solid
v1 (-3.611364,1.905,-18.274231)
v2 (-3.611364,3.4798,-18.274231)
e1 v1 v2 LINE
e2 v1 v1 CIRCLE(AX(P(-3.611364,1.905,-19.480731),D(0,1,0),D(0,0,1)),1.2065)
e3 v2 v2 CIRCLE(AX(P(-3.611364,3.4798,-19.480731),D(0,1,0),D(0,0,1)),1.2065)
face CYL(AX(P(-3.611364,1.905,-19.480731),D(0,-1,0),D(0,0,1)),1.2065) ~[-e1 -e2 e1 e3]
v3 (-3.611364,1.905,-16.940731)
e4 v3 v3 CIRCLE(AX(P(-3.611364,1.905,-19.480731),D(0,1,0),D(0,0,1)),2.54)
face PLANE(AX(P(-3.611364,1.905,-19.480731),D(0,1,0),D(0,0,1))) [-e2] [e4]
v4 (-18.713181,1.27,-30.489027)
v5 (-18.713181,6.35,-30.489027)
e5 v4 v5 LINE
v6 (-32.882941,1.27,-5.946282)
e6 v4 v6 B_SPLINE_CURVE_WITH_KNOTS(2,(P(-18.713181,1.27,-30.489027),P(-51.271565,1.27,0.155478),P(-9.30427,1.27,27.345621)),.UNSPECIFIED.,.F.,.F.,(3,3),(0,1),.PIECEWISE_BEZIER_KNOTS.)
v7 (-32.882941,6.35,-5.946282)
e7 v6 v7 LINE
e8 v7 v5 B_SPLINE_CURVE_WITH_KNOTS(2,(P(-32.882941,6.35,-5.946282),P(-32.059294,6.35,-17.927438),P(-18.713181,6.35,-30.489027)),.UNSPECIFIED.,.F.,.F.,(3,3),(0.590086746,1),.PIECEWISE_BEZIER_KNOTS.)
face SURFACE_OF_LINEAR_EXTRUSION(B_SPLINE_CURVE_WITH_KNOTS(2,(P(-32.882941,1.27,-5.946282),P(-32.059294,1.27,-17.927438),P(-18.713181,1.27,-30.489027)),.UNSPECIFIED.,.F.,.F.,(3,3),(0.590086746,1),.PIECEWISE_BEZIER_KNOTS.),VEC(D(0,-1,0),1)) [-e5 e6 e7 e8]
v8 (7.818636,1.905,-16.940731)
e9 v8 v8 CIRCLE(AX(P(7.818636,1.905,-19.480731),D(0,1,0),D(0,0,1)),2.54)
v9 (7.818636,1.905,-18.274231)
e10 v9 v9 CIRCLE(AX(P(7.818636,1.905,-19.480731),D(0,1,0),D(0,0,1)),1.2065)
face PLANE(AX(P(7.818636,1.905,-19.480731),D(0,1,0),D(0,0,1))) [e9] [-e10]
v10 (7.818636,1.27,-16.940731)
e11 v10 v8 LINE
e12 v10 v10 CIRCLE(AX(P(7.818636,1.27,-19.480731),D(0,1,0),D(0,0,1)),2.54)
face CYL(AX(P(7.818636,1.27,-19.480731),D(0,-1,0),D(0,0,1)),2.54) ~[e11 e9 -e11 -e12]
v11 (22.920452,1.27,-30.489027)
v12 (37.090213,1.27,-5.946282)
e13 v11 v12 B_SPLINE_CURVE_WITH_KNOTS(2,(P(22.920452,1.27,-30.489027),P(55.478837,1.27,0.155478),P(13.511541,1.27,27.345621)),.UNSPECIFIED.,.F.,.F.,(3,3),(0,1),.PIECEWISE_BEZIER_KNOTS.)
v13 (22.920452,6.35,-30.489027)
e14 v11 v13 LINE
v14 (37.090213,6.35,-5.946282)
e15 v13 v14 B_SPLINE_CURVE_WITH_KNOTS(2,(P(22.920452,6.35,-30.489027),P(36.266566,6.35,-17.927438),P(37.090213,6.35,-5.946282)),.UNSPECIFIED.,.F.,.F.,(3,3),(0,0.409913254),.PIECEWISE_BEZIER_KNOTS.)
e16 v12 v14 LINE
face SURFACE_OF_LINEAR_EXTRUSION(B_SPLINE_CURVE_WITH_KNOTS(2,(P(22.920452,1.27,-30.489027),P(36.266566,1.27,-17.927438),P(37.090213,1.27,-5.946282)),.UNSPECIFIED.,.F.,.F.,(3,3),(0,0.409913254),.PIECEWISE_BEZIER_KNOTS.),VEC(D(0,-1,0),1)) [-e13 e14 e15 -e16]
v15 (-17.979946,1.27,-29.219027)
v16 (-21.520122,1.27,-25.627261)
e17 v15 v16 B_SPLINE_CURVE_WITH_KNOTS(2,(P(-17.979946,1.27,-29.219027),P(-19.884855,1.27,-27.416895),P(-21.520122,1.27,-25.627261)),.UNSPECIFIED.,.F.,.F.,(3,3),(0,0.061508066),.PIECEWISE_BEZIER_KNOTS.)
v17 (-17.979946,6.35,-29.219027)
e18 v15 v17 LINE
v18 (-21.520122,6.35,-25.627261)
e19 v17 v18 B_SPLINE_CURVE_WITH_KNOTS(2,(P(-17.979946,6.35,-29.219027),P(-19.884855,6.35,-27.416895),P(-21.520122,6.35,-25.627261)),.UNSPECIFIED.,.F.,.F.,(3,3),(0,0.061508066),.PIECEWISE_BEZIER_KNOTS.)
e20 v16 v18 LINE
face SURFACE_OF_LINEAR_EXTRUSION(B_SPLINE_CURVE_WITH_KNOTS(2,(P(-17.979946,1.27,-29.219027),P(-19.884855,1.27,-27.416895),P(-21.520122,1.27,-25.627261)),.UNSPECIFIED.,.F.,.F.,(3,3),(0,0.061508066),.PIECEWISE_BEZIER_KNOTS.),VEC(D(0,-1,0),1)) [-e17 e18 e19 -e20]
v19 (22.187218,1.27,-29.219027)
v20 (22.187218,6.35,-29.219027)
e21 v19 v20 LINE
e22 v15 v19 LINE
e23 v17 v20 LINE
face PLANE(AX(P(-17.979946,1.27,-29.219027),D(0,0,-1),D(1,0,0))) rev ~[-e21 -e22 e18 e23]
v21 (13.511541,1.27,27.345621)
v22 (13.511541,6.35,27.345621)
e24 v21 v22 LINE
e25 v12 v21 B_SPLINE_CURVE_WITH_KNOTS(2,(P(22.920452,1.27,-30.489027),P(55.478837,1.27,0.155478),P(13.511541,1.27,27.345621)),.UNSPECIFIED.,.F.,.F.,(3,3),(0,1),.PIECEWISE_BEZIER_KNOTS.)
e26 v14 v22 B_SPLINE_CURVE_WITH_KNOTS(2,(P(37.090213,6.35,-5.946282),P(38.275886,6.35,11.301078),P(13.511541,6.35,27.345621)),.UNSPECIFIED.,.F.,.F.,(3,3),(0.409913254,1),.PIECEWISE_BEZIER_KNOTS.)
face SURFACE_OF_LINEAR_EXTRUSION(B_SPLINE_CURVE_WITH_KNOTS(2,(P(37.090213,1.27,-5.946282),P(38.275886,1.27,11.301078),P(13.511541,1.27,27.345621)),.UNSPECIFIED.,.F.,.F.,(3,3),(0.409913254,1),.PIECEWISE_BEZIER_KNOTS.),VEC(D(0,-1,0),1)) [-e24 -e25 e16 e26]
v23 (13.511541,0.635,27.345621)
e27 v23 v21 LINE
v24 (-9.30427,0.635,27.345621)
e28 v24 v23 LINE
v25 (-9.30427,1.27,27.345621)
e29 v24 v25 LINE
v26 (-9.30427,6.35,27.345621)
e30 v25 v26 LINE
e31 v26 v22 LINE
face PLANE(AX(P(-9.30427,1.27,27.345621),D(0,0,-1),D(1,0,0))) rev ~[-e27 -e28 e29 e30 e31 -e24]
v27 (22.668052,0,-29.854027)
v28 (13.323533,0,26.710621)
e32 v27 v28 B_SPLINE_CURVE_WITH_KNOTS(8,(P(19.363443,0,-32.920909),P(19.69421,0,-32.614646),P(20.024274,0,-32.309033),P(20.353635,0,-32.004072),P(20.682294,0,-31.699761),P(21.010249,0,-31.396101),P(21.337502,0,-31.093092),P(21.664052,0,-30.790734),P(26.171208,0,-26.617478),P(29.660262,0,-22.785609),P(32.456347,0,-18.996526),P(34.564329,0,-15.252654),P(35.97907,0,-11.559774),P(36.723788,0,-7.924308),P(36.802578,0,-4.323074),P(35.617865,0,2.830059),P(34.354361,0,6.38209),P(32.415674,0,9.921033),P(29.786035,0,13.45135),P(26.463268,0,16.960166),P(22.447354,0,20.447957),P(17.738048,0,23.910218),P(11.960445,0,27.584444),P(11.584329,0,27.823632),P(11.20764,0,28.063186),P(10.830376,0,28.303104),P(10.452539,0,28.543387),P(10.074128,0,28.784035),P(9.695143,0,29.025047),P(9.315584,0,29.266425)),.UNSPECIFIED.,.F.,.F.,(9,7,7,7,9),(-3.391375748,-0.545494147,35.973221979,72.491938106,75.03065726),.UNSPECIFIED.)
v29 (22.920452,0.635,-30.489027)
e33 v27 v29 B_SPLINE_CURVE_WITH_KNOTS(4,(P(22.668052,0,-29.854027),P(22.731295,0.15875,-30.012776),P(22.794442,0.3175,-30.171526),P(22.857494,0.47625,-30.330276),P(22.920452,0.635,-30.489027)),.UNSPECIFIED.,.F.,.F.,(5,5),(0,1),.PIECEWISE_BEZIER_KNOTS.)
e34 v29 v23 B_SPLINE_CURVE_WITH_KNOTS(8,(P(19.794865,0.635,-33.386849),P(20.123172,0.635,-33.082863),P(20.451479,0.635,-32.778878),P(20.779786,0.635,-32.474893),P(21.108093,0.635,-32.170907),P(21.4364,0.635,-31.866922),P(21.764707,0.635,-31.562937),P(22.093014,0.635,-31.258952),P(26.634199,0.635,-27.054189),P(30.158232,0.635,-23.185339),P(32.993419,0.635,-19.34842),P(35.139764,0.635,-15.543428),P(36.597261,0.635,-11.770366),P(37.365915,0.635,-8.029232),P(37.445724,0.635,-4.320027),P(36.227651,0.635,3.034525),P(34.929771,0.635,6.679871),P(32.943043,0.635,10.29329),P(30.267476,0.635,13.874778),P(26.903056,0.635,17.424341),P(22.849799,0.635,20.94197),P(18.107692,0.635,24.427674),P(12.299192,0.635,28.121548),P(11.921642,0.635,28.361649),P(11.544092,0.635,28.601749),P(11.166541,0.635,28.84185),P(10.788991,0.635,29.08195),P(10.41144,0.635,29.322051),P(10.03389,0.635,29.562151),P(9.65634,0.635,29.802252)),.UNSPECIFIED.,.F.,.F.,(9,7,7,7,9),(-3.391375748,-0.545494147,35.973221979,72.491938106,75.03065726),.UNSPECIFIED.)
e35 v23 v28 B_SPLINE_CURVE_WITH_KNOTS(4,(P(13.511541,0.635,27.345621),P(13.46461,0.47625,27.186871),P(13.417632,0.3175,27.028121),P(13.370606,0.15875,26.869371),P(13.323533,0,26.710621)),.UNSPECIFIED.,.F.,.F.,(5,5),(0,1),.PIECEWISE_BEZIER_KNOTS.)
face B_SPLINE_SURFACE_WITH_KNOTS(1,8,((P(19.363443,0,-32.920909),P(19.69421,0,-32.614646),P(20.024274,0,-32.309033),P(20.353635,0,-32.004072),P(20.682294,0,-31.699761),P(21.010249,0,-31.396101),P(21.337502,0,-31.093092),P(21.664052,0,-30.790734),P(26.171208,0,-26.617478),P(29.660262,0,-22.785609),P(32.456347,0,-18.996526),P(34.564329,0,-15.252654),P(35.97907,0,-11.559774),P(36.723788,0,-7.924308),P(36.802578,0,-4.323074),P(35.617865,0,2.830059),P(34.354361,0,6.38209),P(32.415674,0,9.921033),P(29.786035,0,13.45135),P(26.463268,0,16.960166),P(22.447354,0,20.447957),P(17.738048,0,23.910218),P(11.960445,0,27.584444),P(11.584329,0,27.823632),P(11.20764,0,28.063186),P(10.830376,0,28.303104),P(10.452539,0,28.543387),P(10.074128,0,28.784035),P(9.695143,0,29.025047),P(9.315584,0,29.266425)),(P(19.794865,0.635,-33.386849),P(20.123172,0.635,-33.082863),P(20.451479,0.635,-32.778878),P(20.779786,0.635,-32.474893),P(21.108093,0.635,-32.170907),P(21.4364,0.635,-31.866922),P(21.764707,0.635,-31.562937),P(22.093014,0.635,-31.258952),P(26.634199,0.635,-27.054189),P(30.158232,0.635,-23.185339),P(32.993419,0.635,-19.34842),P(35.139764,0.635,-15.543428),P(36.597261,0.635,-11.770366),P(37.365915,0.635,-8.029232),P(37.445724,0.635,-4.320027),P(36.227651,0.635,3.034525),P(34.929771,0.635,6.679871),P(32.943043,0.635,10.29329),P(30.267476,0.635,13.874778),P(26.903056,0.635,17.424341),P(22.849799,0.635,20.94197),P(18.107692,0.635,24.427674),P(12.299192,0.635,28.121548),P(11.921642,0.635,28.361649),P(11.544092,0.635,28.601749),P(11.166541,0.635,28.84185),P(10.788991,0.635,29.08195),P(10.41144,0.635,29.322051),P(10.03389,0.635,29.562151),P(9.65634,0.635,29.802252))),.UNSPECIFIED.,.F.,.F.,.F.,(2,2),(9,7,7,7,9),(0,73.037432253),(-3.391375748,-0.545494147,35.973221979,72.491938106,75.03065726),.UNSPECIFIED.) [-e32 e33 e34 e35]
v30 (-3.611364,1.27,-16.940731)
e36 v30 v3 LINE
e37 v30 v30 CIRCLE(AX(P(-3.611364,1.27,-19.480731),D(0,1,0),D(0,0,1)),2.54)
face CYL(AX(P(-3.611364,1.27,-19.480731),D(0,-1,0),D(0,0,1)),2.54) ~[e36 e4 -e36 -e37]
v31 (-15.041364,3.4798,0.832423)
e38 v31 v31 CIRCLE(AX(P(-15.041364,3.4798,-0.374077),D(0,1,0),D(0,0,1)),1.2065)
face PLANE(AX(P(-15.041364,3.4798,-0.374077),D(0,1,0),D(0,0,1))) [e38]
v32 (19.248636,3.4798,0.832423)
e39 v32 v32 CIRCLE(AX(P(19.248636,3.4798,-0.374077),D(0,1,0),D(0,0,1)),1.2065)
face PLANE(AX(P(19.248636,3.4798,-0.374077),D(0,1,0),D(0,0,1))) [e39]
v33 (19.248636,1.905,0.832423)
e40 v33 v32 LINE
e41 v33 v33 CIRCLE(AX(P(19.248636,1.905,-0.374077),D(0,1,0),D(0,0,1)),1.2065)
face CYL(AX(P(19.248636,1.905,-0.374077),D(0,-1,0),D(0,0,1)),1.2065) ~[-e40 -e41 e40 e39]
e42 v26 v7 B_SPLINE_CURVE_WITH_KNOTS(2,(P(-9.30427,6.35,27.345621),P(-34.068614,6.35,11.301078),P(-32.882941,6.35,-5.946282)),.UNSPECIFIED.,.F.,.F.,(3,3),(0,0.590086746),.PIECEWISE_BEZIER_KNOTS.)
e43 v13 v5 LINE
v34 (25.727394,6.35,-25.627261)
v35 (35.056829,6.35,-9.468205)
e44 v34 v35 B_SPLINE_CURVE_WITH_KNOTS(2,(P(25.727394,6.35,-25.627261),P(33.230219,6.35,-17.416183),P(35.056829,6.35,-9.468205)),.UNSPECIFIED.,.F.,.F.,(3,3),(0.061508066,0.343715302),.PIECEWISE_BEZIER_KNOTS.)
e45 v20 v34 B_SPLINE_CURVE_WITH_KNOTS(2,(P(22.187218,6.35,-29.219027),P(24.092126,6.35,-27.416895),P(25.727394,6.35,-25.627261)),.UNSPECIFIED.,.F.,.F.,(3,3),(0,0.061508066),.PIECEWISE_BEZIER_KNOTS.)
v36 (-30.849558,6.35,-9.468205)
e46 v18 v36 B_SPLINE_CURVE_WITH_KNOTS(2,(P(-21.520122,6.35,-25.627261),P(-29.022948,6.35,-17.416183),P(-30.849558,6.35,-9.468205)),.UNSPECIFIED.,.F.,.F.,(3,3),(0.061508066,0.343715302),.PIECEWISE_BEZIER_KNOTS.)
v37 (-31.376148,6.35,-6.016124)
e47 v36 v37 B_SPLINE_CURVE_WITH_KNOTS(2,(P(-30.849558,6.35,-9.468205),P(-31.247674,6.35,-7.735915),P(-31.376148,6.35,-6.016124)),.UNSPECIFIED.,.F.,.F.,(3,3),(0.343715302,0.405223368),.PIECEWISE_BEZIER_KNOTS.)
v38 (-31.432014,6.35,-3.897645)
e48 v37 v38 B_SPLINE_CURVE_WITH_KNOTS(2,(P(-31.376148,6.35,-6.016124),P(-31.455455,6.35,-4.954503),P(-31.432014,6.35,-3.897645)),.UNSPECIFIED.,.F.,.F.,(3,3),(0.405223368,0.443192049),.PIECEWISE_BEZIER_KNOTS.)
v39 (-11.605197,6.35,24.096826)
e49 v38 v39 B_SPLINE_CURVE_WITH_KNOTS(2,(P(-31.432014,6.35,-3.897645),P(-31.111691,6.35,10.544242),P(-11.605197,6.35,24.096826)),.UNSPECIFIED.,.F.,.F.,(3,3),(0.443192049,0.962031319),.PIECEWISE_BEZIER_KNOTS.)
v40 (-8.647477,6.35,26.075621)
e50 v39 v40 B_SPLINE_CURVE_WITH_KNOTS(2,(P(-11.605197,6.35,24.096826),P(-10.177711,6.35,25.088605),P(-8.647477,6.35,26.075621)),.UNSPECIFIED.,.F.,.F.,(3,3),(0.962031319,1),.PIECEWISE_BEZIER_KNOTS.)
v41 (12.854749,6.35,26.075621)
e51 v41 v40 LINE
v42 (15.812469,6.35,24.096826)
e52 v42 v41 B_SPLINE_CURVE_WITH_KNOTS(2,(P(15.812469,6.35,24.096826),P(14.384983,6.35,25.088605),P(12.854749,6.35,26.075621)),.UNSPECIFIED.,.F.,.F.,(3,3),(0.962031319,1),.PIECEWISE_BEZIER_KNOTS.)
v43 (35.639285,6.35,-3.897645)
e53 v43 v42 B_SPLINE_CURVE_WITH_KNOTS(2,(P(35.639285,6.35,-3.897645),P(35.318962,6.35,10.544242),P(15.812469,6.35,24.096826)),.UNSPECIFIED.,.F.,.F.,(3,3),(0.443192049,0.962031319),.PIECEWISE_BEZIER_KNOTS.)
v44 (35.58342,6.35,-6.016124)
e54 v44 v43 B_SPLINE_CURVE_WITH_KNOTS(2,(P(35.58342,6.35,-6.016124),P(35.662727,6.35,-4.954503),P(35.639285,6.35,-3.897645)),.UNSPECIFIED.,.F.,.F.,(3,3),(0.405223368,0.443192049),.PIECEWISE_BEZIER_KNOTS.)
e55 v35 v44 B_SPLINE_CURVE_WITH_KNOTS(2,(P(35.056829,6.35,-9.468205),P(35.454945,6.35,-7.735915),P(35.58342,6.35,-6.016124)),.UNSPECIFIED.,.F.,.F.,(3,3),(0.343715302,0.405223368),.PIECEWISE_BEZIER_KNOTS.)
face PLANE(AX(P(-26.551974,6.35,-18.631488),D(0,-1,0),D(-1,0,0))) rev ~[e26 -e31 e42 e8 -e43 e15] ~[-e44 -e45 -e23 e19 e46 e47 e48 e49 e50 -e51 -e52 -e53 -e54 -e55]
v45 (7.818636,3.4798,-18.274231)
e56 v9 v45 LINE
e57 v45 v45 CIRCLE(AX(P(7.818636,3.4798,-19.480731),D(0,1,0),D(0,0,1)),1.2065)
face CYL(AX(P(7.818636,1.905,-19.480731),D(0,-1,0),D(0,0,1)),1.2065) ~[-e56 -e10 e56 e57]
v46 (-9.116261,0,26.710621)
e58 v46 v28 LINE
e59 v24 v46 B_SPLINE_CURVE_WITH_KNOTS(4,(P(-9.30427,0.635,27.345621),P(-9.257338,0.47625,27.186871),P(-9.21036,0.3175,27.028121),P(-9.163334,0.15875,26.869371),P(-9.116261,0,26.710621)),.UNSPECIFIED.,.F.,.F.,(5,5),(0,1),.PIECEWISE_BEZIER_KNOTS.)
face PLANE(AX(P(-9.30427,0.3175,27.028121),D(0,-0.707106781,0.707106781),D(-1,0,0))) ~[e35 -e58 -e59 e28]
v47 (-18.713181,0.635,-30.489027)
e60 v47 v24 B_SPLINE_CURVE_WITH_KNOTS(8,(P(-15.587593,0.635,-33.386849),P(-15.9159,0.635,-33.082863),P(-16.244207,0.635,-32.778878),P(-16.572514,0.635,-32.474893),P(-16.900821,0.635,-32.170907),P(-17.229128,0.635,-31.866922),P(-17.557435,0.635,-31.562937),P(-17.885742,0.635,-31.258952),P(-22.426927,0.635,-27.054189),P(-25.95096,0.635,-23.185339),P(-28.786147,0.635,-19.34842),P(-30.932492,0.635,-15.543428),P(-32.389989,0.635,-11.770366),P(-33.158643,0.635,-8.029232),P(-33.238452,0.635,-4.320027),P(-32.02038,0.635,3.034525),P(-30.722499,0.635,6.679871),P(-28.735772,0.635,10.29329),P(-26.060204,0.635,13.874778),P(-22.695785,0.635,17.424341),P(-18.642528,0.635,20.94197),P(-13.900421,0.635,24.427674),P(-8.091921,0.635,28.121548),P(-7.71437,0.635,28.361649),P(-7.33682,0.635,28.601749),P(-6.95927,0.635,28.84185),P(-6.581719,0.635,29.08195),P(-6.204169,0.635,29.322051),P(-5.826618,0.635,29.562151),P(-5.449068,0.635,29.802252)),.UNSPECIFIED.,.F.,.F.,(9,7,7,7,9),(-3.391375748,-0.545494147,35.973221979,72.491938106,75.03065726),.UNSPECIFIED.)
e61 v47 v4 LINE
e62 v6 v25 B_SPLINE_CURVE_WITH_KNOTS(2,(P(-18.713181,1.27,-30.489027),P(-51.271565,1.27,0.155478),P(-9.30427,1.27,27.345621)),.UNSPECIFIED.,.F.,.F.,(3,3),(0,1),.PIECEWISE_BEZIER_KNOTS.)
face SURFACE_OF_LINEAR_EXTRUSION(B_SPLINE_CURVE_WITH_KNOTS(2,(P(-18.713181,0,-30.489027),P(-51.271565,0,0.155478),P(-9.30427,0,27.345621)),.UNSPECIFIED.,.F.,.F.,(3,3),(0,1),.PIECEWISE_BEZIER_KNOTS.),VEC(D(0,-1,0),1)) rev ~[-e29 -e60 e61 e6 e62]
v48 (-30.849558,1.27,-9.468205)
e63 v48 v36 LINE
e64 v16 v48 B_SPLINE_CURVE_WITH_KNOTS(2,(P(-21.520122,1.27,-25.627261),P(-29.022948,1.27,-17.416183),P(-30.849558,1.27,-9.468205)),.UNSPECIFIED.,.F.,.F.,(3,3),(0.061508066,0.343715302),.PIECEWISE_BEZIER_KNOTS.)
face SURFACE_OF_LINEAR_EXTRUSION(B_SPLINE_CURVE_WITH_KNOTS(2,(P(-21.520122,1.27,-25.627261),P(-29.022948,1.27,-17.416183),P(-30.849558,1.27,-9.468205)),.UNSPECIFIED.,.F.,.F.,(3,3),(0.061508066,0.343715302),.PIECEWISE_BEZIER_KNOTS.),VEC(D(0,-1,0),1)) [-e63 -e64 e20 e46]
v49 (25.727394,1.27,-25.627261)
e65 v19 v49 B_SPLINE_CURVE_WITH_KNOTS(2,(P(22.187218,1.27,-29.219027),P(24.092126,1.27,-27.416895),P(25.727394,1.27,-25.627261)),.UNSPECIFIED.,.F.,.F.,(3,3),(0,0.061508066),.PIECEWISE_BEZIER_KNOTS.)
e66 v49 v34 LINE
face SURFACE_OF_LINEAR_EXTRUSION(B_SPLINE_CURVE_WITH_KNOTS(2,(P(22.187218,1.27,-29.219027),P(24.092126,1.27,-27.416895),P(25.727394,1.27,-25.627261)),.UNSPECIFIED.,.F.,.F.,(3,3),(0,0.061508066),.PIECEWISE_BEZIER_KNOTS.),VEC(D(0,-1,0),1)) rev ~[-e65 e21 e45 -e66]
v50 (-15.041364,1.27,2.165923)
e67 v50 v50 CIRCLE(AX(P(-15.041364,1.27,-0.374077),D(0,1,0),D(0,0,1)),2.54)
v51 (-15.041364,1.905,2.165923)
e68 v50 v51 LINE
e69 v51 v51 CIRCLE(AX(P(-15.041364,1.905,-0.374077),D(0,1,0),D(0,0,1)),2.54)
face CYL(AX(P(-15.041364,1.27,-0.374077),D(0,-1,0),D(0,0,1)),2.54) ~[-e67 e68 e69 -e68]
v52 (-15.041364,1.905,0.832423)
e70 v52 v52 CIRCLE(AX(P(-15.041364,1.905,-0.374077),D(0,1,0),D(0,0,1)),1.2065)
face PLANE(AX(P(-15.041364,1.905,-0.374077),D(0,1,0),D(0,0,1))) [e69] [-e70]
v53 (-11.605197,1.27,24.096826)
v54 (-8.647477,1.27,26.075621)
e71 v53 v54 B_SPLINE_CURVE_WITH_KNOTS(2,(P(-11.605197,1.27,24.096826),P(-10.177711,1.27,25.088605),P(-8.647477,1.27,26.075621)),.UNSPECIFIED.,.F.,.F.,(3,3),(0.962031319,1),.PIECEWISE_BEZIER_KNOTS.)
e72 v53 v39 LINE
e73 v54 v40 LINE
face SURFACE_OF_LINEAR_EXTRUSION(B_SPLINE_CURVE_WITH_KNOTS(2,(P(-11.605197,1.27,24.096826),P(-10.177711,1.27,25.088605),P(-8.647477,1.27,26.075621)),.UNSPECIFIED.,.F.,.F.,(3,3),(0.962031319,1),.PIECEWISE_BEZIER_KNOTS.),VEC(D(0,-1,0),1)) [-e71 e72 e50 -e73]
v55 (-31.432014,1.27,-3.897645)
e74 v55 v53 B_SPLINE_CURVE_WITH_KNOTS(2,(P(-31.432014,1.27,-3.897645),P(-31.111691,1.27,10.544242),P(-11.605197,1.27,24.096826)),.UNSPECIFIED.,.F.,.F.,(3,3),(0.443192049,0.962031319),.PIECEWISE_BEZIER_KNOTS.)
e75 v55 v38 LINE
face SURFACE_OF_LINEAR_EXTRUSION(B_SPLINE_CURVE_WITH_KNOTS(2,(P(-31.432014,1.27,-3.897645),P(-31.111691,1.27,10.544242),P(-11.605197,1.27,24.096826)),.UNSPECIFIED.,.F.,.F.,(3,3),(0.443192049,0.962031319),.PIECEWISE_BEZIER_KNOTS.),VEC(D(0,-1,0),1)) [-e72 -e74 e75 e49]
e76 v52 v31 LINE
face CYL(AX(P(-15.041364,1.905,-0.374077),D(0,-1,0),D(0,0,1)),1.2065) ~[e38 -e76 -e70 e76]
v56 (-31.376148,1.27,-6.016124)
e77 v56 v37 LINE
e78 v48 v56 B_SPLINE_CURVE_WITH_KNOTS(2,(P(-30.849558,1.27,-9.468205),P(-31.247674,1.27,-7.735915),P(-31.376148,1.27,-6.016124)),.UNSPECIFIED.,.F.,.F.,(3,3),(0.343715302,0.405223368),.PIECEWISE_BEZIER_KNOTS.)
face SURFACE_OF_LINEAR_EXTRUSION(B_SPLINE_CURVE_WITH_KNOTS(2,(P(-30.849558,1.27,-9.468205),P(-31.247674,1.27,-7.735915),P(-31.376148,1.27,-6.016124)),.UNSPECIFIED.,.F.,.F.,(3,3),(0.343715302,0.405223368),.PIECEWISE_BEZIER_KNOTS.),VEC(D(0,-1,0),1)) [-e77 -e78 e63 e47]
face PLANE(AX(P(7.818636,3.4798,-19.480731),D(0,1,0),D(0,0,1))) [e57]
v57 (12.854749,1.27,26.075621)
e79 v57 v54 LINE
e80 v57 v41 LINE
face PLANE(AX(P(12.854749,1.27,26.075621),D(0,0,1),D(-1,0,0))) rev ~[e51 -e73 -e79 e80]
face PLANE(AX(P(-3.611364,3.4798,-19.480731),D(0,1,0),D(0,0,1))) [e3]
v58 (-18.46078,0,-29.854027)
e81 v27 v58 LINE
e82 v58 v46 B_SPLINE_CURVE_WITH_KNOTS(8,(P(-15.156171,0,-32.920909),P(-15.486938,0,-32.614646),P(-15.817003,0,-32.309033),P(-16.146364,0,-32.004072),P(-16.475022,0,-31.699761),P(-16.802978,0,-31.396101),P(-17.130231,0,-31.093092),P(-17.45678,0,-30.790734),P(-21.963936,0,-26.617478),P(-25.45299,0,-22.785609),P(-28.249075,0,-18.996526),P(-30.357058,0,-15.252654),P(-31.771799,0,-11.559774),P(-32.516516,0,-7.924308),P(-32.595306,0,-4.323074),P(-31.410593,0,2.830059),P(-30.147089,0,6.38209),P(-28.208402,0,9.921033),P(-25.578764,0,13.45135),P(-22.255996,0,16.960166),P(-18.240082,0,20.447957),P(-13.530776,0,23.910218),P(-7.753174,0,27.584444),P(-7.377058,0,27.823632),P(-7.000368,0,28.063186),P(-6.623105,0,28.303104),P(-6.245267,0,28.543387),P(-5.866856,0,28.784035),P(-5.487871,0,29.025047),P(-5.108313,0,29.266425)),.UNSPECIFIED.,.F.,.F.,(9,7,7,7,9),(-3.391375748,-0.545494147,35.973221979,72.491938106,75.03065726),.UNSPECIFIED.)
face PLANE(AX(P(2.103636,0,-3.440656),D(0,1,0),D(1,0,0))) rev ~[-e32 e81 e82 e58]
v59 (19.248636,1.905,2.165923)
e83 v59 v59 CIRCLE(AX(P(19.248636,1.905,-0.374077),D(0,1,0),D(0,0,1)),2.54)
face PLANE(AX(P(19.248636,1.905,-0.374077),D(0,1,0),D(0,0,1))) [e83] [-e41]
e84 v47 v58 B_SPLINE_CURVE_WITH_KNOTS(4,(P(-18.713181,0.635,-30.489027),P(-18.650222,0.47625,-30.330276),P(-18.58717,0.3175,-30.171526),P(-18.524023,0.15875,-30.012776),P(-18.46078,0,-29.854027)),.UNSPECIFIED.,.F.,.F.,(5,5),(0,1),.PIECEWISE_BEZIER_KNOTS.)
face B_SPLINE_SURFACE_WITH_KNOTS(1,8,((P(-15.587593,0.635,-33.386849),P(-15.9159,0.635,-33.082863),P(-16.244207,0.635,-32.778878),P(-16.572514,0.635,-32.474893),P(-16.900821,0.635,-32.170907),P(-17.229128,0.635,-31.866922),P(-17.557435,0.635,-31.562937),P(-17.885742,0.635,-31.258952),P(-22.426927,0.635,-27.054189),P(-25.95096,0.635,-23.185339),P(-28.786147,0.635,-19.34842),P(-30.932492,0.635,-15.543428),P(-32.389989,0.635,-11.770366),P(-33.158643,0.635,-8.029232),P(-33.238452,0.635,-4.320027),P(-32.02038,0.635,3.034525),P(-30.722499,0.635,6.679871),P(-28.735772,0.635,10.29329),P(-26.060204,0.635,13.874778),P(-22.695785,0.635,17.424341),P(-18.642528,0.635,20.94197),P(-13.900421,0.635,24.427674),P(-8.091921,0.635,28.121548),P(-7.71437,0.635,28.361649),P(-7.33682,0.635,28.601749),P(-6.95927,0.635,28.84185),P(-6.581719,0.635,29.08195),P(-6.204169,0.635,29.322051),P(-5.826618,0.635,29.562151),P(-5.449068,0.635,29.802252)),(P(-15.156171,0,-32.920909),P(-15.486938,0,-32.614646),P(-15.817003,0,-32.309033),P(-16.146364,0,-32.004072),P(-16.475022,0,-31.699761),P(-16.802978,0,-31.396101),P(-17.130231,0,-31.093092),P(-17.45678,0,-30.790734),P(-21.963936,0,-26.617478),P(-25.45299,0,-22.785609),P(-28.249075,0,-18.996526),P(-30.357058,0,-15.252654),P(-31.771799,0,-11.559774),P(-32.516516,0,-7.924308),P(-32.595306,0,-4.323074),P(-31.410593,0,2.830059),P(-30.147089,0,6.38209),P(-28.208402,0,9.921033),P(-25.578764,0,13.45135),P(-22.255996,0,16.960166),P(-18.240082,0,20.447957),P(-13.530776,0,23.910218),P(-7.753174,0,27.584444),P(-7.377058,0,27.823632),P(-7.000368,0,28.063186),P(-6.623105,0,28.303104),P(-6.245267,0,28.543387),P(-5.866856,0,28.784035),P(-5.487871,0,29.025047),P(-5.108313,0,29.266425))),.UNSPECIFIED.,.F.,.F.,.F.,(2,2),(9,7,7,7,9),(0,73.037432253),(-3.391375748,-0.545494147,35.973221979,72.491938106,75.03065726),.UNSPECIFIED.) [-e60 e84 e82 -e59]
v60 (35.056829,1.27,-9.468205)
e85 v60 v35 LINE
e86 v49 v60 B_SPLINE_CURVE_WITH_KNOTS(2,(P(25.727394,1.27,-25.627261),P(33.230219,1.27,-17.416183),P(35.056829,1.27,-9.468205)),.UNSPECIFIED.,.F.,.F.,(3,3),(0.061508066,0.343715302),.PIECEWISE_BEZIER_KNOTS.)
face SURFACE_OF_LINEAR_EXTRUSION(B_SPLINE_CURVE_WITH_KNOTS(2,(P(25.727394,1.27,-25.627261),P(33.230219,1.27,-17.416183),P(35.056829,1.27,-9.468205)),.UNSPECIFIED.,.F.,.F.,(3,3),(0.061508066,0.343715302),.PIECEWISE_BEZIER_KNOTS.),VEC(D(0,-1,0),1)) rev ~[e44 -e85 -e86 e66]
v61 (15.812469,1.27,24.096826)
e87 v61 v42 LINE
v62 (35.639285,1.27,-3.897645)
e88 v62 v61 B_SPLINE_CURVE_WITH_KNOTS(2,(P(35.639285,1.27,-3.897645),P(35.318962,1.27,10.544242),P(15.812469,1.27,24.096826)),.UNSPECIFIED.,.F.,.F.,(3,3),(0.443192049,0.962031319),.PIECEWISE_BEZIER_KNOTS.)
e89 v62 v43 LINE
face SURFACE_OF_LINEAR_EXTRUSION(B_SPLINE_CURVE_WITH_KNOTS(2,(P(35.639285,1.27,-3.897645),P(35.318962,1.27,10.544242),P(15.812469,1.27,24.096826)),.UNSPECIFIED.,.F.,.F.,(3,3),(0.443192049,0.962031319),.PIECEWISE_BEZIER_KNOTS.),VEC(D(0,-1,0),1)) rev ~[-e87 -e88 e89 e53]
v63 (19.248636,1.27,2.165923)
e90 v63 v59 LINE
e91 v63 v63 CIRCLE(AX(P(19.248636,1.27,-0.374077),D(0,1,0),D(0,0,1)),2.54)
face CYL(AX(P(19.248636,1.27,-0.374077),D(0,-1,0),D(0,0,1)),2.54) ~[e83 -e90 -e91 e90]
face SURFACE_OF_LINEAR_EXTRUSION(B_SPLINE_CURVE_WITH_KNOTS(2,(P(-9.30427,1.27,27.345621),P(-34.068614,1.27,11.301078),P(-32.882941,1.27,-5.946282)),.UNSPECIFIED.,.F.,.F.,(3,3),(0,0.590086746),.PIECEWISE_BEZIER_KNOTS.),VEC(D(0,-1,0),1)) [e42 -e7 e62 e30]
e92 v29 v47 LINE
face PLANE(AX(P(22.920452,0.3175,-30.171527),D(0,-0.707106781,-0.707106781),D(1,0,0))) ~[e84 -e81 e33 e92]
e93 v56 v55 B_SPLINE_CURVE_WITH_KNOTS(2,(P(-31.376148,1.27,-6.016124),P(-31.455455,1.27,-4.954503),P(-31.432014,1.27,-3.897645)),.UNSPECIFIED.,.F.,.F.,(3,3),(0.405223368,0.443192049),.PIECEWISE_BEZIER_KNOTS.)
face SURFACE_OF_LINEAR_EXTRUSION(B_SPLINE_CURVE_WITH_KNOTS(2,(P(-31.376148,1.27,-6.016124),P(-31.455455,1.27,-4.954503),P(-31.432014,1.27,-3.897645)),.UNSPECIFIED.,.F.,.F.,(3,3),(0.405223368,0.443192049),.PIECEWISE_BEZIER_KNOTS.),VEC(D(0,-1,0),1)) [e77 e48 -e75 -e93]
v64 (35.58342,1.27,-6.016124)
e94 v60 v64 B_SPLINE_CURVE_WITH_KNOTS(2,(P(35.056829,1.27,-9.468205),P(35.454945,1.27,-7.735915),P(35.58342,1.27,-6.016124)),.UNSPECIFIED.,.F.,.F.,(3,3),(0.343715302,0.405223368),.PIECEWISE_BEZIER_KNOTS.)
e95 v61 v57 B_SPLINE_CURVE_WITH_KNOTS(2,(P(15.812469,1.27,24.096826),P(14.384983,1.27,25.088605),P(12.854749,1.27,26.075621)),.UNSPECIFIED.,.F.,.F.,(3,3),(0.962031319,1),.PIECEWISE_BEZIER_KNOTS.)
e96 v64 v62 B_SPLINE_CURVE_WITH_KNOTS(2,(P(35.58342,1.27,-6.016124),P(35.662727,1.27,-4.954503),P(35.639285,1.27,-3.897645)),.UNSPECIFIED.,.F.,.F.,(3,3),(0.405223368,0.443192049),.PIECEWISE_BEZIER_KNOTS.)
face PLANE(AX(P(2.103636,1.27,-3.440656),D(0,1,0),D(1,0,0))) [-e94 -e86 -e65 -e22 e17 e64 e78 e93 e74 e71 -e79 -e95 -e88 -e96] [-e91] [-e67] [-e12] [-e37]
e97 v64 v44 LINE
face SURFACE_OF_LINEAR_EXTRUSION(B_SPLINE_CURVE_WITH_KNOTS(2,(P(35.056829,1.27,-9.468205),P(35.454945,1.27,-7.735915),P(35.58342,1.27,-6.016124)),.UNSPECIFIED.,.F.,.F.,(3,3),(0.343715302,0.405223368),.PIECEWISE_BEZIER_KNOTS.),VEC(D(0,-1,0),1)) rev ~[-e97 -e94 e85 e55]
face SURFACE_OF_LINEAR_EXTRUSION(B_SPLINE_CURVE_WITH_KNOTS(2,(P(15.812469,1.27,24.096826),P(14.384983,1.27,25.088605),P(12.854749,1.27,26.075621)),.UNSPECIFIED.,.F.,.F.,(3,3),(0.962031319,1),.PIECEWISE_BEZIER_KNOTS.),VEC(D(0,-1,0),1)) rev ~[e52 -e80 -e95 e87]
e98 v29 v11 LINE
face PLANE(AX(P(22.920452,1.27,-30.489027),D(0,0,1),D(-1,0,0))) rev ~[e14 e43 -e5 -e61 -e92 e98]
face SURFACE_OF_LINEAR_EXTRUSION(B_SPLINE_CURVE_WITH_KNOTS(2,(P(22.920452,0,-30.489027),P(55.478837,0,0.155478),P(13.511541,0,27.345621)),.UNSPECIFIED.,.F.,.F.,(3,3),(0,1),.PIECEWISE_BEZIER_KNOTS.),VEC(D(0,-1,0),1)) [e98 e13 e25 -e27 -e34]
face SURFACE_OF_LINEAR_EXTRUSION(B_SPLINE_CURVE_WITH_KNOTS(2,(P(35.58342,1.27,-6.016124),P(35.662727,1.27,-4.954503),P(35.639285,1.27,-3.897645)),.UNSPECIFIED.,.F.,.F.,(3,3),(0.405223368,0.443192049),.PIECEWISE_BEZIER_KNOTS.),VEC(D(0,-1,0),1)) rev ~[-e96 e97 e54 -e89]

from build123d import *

# Parameters (mm, degrees)
BOSS_EXTRUDE6_DEPTH  = 1.27
SKETCH3_R            = 2.54
SKETCH3_R_2          = 1.27
BOSS_EXTRUDE8_DEPTH  = 0.635
BOSS_EXTRUDE10_DEPTH = 5.08
SKETCH4_R            = 1.2065
BOSS_EXTRUDE9_DEPTH  = 1.5748
CHAMFER1_SIZE        = 0.635


with BuildPart() as part:
    # Sketch1 → Boss-Extrude6 (new body)
    with BuildSketch(Plane(origin=(0, 0, 0), x_dir=(1, 0, 0), z_dir=(0, 1, 0))):
        with BuildLine():
            Line((-9.304269575, -27.345620797), (13.511541223, -27.345620797))
            add(Edge.make_bspline(
                [(22.920452389, 30.489026504), (55.478836557, -0.15547818), (13.511541223, -27.345620797)],
                knots=[0, 0, 0, 1, 1, 1], degree=2))
            Line((22.920452389, 30.489026504), (-18.713180741, 30.489026504))
            add(Edge.make_bspline(
                [(-18.713180741, 30.489026504), (-51.271564909, -0.15547818), (-9.304269575, -27.345620797)],
                knots=[0, 0, 0, 1, 1, 1], degree=2))
        make_face()
    extrude(amount=BOSS_EXTRUDE6_DEPTH)

    # Sketch3 → Boss-Extrude8 (add)
    # profile 1 of 8: a face of its own
    with BuildSketch(Plane(origin=(0, 1.27, 0), x_dir=(1, 0, 0), z_dir=(0, 1, 0))):
        with Locations(Location((-15.041364176, 0.374076722, 0), (0, 0, 270))):
            Circle(SKETCH3_R)
        with Locations((-15.041364176, 0.374076722)):
            Circle(SKETCH3_R_2, mode=Mode.SUBTRACT)
    # profile 2 of 8: a face of its own
    with BuildSketch(Plane(origin=(0, 1.27, 0), x_dir=(1, 0, 0), z_dir=(0, 1, 0))):
        with Locations(Location((-3.611364176, 19.48073103, 0), (0, 0, 270))):
            Circle(SKETCH3_R)
        with Locations((-3.611364176, 19.48073103)):
            Circle(SKETCH3_R_2, mode=Mode.SUBTRACT)
    # profile 3 of 8: a face of its own
    with BuildSketch(Plane(origin=(0, 1.27, 0), x_dir=(1, 0, 0), z_dir=(0, 1, 0))):
        with Locations(Location((7.818635824, 19.48073103, 0), (0, 0, 270))):
            Circle(SKETCH3_R)
        with Locations((7.818635824, 19.48073103)):
            Circle(SKETCH3_R_2, mode=Mode.SUBTRACT)
    # profile 4 of 8: a face of its own
    with BuildSketch(Plane(origin=(0, 1.27, 0), x_dir=(1, 0, 0), z_dir=(0, 1, 0))):
        with Locations(Location((19.248635824, 0.374076722, 0), (0, 0, 270))):
            Circle(SKETCH3_R)
        with Locations((19.248635824, 0.374076722)):
            Circle(SKETCH3_R_2, mode=Mode.SUBTRACT)
    # profile 5 of 8: a face of its own
    with BuildSketch(Plane(origin=(0, 1.27, 0), x_dir=(1, 0, 0), z_dir=(0, 1, 0))):
        with Locations((-15.041364176, 0.374076722)):
            Circle(SKETCH3_R_2)
    # profile 6 of 8: a face of its own
    with BuildSketch(Plane(origin=(0, 1.27, 0), x_dir=(1, 0, 0), z_dir=(0, 1, 0))):
        with Locations((-3.611364176, 19.48073103)):
            Circle(SKETCH3_R_2)
    # profile 7 of 8: a face of its own
    with BuildSketch(Plane(origin=(0, 1.27, 0), x_dir=(1, 0, 0), z_dir=(0, 1, 0))):
        with Locations((7.818635824, 19.48073103)):
            Circle(SKETCH3_R_2)
    # profile 8 of 8: a face of its own
    with BuildSketch(Plane(origin=(0, 1.27, 0), x_dir=(1, 0, 0), z_dir=(0, 1, 0))):
        with Locations((19.248635824, 0.374076722)):
            Circle(SKETCH3_R_2)
    extrude(amount=BOSS_EXTRUDE8_DEPTH)

    # Sketch2 → Boss-Extrude10 (add)
    with BuildSketch(Plane(origin=(0, 1.27, 0), x_dir=(1, 0, 0), z_dir=(0, 1, 0))):
        with BuildLine():
            add(Edge.make_bspline(
                [(-32.882940994, 5.946281814), (-32.05929394, 17.927437872), (-18.713180741, 30.489026504)],
                knots=[0.590086746, 0.590086746, 0.590086746, 1, 1, 1], degree=2))
            Line((-32.882940994, 5.946281814), (-30.849557533, 9.46820528))
            add(Edge.make_bspline(
                [(-21.52012223, 25.627261232), (-29.022947824, 17.416183265), (-30.849557533, 9.46820528)],
                knots=[0.061508066, 0.061508066, 0.061508066, 0.343715302, 0.343715302, 0.343715302], degree=2))
            Line((-21.52012223, 25.627261232), (-18.713180741, 30.489026504))
        make_face()
        with BuildLine():
            Line((-30.849557533, 9.46820528), (-32.882940994, 5.946281814))
            Line((-32.882940994, 5.946281814), (-31.432013688, 3.897645158))
            add(Edge.make_bspline(
                [(-31.376148124, 6.016123622), (-31.455454937, 4.954503137), (-31.432013688, 3.897645158)],
                knots=[0.405223368, 0.405223368, 0.405223368, 0.443192049, 0.443192049, 0.443192049], degree=2))
            add(Edge.make_bspline(
                [(-30.849557533, 9.46820528), (-31.247673588, 7.735915333), (-31.376148124, 6.016123622)],
                knots=[0.343715302, 0.343715302, 0.343715302, 0.405223368, 0.405223368, 0.405223368], degree=2))
        make_face()
        with BuildLine():
            add(Edge.make_bspline(
                [(-9.304269575, -27.345620797), (-34.068614317, -11.301078017), (-32.882940994, 5.946281814)],
                knots=[0, 0, 0, 0.590086746, 0.590086746, 0.590086746], degree=2))
            Line((-9.304269575, -27.345620797), (-11.605197436, -24.096825947))
            add(Edge.make_bspline(
                [(-31.432013688, 3.897645158), (-31.111690719, -10.544242355), (-11.605197436, -24.096825947)],
                knots=[0.443192049, 0.443192049, 0.443192049, 0.962031319, 0.962031319, 0.962031319], degree=2))
            Line((-31.432013688, 3.897645158), (-32.882940994, 5.946281814))
        make_face()
        with BuildLine():
            Line((35.056829181, 9.46820528), (37.090212642, 5.946281814))
            add(Edge.make_bspline(
                [(22.920452389, 30.489026504), (36.266565588, 17.927437872), (37.090212642, 5.946281814)],
                knots=[0, 0, 0, 0.409913254, 0.409913254, 0.409913254], degree=2))
            Line((22.920452389, 30.489026504), (25.727393878, 25.627261232))
            add(Edge.make_bspline(
                [(25.727393878, 25.627261232), (33.230219472, 17.416183265), (35.056829181, 9.46820528)],
                knots=[0.061508066, 0.061508066, 0.061508066, 0.343715302, 0.343715302, 0.343715302], degree=2))
        make_face()
        with BuildLine():
            Line((35.639285336, 3.897645158), (37.090212642, 5.946281814))
            Line((37.090212642, 5.946281814), (35.056829181, 9.46820528))
            add(Edge.make_bspline(
                [(35.056829181, 9.46820528), (35.454945236, 7.735915333), (35.583419772, 6.016123622)],
                knots=[0.343715302, 0.343715302, 0.343715302, 0.405223368, 0.405223368, 0.405223368], degree=2))
            add(Edge.make_bspline(
                [(35.583419772, 6.016123622), (35.662726585, 4.954503137), (35.639285336, 3.897645158)],
                knots=[0.405223368, 0.405223368, 0.405223368, 0.443192049, 0.443192049, 0.443192049], degree=2))
        make_face()
        with BuildLine():
            Line((15.812469084, -24.096825947), (13.511541223, -27.345620797))
            add(Edge.make_bspline(
                [(37.090212642, 5.946281814), (38.275885965, -11.301078017), (13.511541223, -27.345620797)],
                knots=[0.409913254, 0.409913254, 0.409913254, 1, 1, 1], degree=2))
            Line((37.090212642, 5.946281814), (35.639285336, 3.897645158))
            add(Edge.make_bspline(
                [(35.639285336, 3.897645158), (35.318962367, -10.544242355), (15.812469084, -24.096825947)],
                knots=[0.443192049, 0.443192049, 0.443192049, 0.962031319, 0.962031319, 0.962031319], degree=2))
        make_face()
        with BuildLine():
            Line((-9.304269575, -27.345620797), (13.511541223, -27.345620797))
            Line((13.511541223, -27.345620797), (15.812469084, -24.096825947))
            add(Edge.make_bspline(
                [(15.812469084, -24.096825947), (14.384983027, -25.088604625), (12.854748908, -26.075620797)],
                knots=[0.962031319, 0.962031319, 0.962031319, 1, 1, 1], degree=2))
            Line((12.854748908, -26.075620797), (-8.64747726, -26.075620797))
            add(Edge.make_bspline(
                [(-11.605197436, -24.096825947), (-10.177711379, -25.088604625), (-8.64747726, -26.075620797)],
                knots=[0.962031319, 0.962031319, 0.962031319, 1, 1, 1], degree=2))
            Line((-11.605197436, -24.096825947), (-9.304269575, -27.345620797))
        make_face()
        with BuildLine():
            Line((25.727393878, 25.627261232), (22.920452389, 30.489026504))
            Line((22.920452389, 30.489026504), (-18.713180741, 30.489026504))
            Line((-18.713180741, 30.489026504), (-21.52012223, 25.627261232))
            add(Edge.make_bspline(
                [(-17.979945899, 29.219026504), (-19.884854823, 27.416894751), (-21.52012223, 25.627261232)],
                knots=[0, 0, 0, 0.061508066, 0.061508066, 0.061508066], degree=2))
            Line((-17.979945899, 29.219026504), (22.187217547, 29.219026504))
            add(Edge.make_bspline(
                [(22.187217547, 29.219026504), (24.092126471, 27.416894751), (25.727393878, 25.627261232)],
                knots=[0, 0, 0, 0.061508066, 0.061508066, 0.061508066], degree=2))
        make_face()
    extrude(amount=BOSS_EXTRUDE10_DEPTH)

    # Sketch4 → Boss-Extrude9 (add)
    with BuildSketch(Plane(origin=(0, 1.905, 0), x_dir=(1, 0, 0), z_dir=(0, 1, 0))):
        with Locations(Location((-15.041364176, 0.374076722, 0), (0, 0, 270))):
            Circle(SKETCH4_R)
        with Locations(Location((-3.611364176, 19.48073103, 0), (0, 0, 270))):
            Circle(SKETCH4_R)
        with Locations(Location((7.818635824, 19.48073103, 0), (0, 0, 270))):
            Circle(SKETCH4_R)
        with Locations(Location((19.248635824, 0.374076722, 0), (0, 0, 270))):
            Circle(SKETCH4_R)
    extrude(amount=BOSS_EXTRUDE9_DEPTH)

    # Chamfer1
    chamfer1_edges = [part.edges().sort_by_distance(p)[0] for p in [
        (2.103635824, 0, 27.345620797),
        (-32.321436727, 0, 0.895081973),
        (36.528708375, 0, 0.895081973),
        (2.103635824, 0, -30.489026504),
    ]]
    chamfer(chamfer1_edges, length=CHAMFER1_SIZE)


solid = part.part
